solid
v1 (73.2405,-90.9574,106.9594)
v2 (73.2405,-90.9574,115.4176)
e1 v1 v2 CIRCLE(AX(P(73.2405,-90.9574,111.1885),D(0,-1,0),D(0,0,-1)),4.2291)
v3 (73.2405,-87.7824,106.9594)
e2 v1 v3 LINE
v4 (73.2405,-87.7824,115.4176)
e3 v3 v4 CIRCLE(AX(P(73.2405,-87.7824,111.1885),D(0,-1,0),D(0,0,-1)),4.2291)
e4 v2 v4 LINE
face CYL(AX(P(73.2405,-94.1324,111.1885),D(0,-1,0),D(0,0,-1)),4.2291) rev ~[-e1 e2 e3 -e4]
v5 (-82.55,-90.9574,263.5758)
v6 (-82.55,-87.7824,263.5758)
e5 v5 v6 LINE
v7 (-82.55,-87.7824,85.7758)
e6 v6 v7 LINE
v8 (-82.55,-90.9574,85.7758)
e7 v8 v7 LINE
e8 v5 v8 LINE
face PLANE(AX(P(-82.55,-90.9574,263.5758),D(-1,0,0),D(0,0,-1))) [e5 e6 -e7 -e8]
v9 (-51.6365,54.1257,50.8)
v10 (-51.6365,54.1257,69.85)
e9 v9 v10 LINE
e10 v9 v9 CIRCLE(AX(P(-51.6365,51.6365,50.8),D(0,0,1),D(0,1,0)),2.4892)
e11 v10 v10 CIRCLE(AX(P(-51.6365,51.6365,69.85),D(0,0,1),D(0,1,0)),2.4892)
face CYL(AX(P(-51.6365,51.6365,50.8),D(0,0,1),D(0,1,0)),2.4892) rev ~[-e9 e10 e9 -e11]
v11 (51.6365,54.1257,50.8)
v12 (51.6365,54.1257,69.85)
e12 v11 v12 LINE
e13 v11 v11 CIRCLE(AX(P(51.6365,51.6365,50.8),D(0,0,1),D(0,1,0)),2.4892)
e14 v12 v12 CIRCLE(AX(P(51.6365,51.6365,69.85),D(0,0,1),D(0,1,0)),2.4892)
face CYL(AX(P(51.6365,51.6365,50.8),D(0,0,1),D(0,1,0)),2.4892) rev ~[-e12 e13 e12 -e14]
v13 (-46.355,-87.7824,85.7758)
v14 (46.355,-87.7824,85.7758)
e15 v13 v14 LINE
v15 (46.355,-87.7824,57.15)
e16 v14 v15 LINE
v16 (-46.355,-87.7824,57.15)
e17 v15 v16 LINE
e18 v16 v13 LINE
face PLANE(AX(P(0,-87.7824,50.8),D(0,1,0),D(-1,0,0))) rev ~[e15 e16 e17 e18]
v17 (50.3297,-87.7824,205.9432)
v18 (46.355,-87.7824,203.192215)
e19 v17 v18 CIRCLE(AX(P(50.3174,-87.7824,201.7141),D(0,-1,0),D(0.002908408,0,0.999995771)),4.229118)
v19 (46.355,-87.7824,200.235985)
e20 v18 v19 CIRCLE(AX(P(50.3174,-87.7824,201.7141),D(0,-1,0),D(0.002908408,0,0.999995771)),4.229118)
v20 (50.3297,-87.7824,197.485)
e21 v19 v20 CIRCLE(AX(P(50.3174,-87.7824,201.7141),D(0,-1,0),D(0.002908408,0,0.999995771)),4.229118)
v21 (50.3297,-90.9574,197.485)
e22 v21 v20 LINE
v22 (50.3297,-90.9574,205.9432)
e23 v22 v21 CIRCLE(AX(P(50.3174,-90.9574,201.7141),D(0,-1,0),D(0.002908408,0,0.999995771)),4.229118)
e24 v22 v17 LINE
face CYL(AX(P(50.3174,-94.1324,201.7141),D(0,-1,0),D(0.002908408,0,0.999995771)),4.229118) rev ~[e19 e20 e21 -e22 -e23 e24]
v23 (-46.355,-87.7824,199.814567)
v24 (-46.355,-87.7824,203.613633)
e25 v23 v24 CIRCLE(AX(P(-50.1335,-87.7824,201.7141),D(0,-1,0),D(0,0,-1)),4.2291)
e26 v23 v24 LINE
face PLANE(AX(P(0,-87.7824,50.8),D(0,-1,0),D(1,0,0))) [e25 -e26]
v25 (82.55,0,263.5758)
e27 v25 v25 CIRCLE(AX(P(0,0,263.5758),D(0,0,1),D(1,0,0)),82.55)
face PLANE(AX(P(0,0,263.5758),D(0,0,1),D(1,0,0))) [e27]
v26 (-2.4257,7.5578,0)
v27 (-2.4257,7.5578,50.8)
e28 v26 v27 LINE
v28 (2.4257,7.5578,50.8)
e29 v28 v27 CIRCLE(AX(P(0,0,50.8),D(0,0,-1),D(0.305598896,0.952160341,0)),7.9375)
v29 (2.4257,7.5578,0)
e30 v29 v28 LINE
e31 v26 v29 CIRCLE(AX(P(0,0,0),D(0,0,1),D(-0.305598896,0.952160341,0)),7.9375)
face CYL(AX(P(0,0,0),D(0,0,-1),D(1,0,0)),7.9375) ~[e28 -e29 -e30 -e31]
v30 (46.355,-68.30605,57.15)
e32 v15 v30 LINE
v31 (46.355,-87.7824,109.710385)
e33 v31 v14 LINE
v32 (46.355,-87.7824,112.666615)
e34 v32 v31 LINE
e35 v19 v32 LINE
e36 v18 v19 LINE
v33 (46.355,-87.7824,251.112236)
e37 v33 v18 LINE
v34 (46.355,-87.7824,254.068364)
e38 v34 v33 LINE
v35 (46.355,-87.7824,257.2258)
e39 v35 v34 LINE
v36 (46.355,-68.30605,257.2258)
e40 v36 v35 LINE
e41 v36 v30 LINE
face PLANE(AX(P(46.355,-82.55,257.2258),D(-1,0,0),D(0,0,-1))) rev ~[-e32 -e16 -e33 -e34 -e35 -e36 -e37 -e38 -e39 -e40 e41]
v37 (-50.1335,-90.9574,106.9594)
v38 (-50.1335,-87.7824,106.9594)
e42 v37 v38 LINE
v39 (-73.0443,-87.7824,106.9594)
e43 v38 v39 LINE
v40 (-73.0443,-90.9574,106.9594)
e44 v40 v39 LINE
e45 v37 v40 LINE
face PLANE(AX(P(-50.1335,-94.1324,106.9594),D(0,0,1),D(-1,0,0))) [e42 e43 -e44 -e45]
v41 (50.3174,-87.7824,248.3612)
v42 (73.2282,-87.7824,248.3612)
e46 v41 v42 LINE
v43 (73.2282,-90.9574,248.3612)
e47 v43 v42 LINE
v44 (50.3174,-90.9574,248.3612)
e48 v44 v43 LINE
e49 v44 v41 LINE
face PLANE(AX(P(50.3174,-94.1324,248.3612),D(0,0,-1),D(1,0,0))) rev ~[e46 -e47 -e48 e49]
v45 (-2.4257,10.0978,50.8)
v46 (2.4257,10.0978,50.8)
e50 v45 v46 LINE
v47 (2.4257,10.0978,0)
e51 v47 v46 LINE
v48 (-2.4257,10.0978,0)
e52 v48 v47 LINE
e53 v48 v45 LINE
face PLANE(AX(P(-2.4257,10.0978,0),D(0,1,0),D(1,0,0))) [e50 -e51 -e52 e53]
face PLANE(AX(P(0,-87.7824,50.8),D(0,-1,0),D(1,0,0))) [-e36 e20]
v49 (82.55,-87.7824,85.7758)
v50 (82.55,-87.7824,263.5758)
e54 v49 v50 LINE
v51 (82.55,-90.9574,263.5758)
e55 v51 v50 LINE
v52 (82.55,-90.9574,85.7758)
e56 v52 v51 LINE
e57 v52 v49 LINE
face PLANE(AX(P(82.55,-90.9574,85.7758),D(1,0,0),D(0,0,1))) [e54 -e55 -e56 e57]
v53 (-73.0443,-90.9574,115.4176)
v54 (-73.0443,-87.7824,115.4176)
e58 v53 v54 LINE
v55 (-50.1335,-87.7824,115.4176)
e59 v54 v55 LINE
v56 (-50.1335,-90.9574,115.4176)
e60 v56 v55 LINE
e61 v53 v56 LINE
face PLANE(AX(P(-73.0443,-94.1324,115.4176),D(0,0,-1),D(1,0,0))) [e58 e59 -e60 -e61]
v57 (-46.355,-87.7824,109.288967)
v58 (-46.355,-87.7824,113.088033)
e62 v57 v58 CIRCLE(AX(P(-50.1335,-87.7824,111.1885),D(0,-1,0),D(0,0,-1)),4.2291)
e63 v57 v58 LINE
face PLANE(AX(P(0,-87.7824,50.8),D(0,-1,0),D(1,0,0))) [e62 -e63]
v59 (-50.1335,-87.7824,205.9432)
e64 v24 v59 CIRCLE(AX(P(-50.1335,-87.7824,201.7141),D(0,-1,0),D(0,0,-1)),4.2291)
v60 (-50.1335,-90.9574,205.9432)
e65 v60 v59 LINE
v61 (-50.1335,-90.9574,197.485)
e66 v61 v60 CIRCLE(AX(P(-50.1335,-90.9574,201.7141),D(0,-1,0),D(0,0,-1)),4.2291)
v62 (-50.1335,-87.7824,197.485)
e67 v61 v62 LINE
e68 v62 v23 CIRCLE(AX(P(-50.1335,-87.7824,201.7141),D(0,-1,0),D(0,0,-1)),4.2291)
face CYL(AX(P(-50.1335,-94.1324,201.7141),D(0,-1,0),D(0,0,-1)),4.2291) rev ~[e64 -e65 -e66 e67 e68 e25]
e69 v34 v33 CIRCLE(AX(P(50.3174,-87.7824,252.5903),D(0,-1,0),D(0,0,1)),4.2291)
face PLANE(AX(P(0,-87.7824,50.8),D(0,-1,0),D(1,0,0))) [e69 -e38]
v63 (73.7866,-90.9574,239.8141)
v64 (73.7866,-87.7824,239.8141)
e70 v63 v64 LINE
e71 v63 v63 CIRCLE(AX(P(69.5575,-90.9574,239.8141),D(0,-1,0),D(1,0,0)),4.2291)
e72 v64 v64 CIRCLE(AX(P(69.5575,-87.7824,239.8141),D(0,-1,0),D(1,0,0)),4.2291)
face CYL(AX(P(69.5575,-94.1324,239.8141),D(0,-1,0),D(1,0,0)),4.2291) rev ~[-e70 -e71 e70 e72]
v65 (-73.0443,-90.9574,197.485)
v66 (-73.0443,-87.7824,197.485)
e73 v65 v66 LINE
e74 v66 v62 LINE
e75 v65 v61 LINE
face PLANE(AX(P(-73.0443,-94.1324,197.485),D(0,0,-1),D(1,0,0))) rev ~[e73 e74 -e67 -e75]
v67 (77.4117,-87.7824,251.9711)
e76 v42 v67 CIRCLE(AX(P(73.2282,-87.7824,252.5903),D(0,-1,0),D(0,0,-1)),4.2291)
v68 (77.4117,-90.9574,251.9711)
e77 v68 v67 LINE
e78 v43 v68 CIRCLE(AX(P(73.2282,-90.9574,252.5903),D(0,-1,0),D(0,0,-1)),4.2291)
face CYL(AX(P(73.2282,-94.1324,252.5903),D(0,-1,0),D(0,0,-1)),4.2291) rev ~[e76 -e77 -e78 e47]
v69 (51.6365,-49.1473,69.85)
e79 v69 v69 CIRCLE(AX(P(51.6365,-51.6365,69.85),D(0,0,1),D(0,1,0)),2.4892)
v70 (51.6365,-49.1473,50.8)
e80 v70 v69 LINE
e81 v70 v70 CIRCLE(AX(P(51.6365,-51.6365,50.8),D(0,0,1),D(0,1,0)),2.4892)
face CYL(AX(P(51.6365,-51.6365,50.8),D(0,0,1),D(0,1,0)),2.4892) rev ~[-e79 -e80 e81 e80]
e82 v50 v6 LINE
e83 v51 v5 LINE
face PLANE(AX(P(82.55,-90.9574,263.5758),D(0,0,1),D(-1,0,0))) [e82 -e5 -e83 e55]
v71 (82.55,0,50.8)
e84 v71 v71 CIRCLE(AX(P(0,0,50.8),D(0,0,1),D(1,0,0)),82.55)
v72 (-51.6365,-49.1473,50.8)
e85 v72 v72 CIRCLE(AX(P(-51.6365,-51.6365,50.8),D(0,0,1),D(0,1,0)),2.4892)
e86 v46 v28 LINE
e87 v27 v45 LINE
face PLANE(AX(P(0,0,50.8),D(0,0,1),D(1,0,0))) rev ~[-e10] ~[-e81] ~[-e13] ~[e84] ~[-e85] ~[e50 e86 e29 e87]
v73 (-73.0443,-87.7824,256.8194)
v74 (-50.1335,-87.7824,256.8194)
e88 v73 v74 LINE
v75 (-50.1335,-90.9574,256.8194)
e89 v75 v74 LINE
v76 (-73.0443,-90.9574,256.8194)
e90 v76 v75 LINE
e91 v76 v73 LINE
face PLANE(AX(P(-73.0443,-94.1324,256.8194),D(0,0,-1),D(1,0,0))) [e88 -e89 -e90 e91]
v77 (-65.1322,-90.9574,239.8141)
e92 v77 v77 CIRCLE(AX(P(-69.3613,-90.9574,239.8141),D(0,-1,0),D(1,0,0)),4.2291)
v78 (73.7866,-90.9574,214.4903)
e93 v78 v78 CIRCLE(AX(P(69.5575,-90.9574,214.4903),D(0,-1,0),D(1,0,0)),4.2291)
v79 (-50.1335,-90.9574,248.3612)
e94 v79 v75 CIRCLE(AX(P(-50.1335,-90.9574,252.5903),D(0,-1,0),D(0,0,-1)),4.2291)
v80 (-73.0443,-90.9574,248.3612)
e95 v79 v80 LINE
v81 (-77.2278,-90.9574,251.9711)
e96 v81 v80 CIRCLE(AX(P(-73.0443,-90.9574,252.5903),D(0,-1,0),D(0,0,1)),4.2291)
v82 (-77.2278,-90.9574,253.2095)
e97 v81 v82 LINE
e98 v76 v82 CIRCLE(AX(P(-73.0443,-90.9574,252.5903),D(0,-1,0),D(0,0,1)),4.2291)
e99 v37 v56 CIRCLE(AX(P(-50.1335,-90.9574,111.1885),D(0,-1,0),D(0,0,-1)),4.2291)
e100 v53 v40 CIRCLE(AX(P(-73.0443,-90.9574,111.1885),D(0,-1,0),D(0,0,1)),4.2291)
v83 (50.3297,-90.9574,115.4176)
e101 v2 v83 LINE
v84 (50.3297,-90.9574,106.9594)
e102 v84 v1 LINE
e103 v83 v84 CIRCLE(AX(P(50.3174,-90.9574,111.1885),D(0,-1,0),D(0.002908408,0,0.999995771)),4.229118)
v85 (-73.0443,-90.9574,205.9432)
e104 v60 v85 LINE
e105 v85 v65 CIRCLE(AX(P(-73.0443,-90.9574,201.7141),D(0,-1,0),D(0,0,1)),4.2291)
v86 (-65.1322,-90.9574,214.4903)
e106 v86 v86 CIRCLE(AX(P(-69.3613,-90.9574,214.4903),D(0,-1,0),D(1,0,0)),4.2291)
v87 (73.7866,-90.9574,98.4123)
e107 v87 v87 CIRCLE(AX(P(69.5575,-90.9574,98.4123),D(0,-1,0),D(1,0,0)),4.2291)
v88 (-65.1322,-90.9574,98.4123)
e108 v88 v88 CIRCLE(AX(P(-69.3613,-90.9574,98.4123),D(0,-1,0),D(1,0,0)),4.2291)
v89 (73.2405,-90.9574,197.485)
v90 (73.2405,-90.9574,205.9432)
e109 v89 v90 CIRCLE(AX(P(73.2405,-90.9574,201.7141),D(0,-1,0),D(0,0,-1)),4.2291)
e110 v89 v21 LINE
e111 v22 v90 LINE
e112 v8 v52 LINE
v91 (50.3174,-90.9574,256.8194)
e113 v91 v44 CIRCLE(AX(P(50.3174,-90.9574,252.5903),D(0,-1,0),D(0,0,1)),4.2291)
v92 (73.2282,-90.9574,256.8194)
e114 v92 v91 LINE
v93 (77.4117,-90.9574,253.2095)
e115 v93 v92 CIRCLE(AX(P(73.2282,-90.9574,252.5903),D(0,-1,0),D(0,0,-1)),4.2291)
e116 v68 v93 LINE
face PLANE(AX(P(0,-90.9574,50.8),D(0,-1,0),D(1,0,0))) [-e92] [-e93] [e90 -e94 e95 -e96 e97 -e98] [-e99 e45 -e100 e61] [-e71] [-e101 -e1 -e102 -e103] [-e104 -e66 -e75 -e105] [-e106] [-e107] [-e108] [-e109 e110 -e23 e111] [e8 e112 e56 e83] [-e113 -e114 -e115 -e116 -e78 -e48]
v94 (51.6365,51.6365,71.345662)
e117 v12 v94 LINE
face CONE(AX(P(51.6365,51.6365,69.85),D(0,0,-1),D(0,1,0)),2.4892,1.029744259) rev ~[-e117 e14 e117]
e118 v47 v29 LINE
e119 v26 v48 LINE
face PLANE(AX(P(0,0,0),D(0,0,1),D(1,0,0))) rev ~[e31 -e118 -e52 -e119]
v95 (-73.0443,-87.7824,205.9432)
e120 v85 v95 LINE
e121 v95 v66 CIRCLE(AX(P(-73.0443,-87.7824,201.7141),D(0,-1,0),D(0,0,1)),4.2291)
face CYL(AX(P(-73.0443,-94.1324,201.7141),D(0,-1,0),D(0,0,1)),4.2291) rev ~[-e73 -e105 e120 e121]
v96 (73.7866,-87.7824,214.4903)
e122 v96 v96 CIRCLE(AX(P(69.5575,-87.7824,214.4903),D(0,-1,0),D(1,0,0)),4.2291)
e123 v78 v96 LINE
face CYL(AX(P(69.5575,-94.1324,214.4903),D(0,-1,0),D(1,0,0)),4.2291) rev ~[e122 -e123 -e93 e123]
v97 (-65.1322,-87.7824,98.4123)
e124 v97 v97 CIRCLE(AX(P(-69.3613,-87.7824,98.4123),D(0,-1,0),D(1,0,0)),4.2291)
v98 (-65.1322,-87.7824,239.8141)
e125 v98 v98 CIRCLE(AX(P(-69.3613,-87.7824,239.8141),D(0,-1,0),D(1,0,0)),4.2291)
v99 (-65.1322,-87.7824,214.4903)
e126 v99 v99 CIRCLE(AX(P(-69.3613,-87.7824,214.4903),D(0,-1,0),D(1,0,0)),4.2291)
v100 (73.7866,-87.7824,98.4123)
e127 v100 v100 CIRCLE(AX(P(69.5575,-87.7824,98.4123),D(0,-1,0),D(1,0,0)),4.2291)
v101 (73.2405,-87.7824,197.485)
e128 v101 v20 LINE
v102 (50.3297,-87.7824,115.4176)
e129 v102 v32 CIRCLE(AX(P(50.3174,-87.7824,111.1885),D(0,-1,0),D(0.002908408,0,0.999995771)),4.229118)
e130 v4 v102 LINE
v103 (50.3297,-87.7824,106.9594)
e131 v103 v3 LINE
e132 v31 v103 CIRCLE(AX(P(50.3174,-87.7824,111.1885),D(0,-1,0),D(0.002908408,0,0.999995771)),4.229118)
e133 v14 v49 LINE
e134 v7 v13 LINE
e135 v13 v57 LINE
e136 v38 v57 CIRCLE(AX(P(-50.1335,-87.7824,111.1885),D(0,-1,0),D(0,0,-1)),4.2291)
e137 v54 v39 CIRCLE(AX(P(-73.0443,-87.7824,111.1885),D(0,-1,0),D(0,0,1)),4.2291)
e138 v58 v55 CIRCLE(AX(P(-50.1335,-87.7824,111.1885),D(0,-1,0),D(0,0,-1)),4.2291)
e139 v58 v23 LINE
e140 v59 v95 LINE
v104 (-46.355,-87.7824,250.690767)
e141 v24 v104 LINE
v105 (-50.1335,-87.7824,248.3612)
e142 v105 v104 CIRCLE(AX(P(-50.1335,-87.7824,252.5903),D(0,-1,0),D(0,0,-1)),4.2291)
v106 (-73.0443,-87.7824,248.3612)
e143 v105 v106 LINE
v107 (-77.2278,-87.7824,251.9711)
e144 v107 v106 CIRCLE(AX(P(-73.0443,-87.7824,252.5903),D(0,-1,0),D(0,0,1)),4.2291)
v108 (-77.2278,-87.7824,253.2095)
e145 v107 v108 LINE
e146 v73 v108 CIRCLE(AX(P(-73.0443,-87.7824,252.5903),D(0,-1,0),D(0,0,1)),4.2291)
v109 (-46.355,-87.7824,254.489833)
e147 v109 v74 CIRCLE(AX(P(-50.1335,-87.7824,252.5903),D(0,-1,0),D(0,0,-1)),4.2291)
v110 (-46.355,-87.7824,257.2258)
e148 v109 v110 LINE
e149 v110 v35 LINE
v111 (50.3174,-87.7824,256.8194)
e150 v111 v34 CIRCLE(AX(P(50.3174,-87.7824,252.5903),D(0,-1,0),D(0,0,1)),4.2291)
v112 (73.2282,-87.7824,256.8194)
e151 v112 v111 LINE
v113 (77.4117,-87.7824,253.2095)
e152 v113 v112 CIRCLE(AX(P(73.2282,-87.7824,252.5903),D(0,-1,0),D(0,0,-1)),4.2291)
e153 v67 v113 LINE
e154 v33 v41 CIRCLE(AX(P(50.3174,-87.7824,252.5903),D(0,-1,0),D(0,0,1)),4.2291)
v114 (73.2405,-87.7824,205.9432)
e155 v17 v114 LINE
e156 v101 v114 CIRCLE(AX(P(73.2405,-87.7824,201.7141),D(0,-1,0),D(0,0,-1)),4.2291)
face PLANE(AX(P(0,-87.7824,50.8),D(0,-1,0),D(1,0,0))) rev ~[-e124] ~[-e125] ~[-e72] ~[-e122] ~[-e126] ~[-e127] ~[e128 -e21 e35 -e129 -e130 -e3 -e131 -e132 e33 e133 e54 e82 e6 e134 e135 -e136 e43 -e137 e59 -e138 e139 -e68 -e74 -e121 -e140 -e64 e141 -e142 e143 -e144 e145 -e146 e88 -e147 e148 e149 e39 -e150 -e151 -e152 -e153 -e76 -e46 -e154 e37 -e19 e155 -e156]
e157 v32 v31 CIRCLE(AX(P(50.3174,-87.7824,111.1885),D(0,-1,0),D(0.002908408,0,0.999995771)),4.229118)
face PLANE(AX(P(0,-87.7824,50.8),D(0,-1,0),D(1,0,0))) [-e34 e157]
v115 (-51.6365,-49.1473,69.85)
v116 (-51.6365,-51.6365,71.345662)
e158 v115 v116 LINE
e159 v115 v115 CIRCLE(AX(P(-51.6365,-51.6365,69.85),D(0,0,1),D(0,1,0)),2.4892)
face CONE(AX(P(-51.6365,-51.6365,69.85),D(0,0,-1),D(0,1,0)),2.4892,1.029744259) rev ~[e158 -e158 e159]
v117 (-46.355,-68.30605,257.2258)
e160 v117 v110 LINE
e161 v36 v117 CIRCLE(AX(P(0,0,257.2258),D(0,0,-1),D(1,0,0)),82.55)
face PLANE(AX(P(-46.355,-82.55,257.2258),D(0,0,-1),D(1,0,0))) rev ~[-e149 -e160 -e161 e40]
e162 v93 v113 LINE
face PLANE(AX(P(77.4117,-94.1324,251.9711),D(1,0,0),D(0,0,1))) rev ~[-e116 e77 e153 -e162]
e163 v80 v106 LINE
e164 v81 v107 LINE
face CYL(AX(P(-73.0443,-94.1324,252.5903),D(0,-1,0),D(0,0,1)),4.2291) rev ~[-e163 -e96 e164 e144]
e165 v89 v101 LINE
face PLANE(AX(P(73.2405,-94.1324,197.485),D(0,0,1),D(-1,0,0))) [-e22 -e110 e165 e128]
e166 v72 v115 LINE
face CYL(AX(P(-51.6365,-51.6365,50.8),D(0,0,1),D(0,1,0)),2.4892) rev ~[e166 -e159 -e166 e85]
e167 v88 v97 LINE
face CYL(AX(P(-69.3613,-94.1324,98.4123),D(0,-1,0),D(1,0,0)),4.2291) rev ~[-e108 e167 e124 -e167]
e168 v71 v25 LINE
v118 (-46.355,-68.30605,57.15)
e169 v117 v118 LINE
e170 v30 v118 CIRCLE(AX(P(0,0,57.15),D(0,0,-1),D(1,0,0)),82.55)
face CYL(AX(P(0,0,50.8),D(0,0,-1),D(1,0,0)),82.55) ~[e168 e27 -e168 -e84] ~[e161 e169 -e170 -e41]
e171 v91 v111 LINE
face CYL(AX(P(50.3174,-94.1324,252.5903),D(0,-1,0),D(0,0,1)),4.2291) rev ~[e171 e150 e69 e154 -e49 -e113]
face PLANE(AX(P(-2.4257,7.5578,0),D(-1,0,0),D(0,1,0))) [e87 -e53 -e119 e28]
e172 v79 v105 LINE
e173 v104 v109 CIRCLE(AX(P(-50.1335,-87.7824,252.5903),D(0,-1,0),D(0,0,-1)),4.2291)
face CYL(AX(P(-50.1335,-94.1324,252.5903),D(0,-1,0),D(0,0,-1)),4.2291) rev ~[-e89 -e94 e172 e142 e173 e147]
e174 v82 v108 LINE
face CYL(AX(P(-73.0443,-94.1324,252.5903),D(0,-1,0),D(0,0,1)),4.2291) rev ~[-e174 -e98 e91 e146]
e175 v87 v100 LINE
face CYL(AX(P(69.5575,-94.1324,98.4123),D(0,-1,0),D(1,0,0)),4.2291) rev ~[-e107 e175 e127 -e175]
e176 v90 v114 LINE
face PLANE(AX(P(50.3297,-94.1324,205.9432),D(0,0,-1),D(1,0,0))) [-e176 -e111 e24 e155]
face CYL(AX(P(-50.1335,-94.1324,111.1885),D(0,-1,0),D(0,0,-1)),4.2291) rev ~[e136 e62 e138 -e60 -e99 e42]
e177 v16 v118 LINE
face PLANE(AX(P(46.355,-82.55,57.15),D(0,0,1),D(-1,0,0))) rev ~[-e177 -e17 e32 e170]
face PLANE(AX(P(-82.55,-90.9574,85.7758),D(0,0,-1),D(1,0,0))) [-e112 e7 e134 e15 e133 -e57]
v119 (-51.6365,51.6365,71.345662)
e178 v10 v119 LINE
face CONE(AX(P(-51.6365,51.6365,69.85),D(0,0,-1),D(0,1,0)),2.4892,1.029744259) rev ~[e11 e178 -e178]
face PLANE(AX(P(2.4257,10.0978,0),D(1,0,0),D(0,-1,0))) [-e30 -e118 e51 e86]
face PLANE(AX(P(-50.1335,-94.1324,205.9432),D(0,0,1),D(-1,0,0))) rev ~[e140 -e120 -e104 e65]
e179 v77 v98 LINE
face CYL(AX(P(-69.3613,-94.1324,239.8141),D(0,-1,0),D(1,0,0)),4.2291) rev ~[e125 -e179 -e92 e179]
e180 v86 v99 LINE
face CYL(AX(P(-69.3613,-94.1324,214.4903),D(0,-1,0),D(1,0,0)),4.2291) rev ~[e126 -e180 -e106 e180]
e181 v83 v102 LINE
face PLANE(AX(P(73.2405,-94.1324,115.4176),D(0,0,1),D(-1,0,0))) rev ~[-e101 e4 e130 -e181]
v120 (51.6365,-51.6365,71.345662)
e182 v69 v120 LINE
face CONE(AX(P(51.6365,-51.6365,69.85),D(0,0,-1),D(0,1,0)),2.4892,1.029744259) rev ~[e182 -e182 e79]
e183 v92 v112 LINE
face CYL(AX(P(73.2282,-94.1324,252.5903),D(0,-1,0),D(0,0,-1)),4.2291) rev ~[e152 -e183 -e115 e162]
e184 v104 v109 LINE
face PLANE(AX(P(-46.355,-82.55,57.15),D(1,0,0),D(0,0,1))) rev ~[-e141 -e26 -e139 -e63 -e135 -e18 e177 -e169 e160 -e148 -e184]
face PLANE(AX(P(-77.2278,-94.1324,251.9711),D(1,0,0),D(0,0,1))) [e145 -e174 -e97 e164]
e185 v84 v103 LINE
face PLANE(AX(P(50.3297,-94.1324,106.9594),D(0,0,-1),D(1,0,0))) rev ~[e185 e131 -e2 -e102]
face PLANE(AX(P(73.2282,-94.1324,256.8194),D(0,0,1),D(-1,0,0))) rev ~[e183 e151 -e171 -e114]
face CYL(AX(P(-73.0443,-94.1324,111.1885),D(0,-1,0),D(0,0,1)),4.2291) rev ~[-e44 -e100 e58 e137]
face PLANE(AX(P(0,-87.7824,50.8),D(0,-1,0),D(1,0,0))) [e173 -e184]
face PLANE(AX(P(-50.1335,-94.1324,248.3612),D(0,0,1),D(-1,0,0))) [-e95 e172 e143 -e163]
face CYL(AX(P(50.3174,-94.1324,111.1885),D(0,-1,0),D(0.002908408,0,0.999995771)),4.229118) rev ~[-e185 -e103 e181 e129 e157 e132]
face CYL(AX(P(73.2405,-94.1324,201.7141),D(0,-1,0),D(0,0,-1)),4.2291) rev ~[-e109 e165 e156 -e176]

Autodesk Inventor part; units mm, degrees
ref_plane "YZ Plane" through (0, 0, 0) normal (1, 0, 0) x (0, 1, 0)
ref_plane "XZ Plane" through (0, 0, 0) normal (0, 1, 0) x (-1, 0, 0)
ref_plane "XY Plane" through (0, 0, 0) normal (0, 0, 1) x (1, 0, 0)
sketch "Sketch1" plane through (0, 0, 0) normal (0, 0, 1) x (1, 0, 0)
  circle A0 centre (0, 0) radius 7.9375
  line L0 (-2.4257, 7.5578) -> (-2.4257, 10.0978)
  line L1 (-2.4257, 10.0978) -> (2.4257, 10.0978)
  line L2 (2.4257, 10.0978) -> (2.4257, 7.5578)
  point P0 (0, 10.0978)
  dimension "d0" = 15.875
  dimension "d1" = 2.54
  dimension "d2" = 4.8514
extrude "Extrusion1" add sketch "Sketch1" along normal blind 50.8
sketch "Sketch2" plane through (0, 0, 50.8) normal (0, 0, 1) x (1, 0, 0)
  circle A0 centre (0, 0) radius 82.55
  dimension "d5" = 165.1
extrude "Extrusion2" add sketch "Sketch2" along normal blind 212.7758
sketch "Sketch3" plane through (0, 0, 50.8) normal (0, 0, -1) x (-1, 0, 0)
  circle A0 centre (0, 0) radius 73.025
  arc A1 (-2.4257, 7.5578) -> (2.4257, 7.5578) centre (0, 0) ccw projected
  line L0 (0, 0) -> (51.6365, 51.6365)
  line L1 (0, 0) -> (73.025, 0) construction
  line L2 (0, 0) -> (51.6365, -51.6365)
  line L3 (0, 0) -> (73.025, 0) construction
  line L4 (0, 0) -> (-51.6365, 51.6365)
  line L5 (0, 0) -> (73.025, 0) construction
  line L6 (0, 0) -> (-51.6365, -51.6365)
  line L7 (0, 0) -> (73.025, 0) construction
  dimension "d8" = 146.05
  dimension "d9" = 45
  dimension "d10" = 45
  dimension "d11" = 135
  dimension "d12" = 135
hole "Hole1" at (51.6365, 51.6365, 50.8) at (-51.6365, 51.6365, 50.8) at (-51.6365, -51.6365, 50.8) at (51.6365, -51.6365, 50.8) direction (0, 0, 1) diameter 4.9784 depth 19.05 tip angle 118 thread size "1/4-20 UNC" class "2B" standard "ANSI Unified Screw Threads"
ref_plane "Work Plane2" through (0, -82.55, 50.8) normal (0, 1, 0) x (-1, 0, 0)
sketch "Sketch4" plane through (0, -82.55, 50.8) normal (0, 1, 0) x (-1, 0, 0)
  line L0 (82.55, 212.7758) -> (-82.55, 212.7758) projected
  line L1 (-82.55, 0) -> (82.55, 0) projected
  line L2 (82.55, 0) -> (82.55, 177.8) projected
  line L3 (-82.55, 0) -> (-82.55, 177.8) projected
  line L4 (-46.355, 6.35) -> (46.355, 6.35)
  line L5 (46.355, 6.35) -> (46.355, 206.4258)
  line L6 (46.355, 206.4258) -> (-46.355, 206.4258)
  line L7 (-46.355, 206.4258) -> (-46.355, 6.35)
  point P0 (0, -50.8)
  point P1 (0, 6.35)
  dimension "d20" = 200.0758
  dimension "d21" = 6.35
  dimension "d22" = 92.71
extrude "Extrusion3" add sketch "Sketch4" along normal blind 25.4 and the other way blind 5.2324
ref_plane "Work Plane7" through (0, -90.9574, 50.8) normal (0, -1, 0) x (1, 0, 0)
sketch "Sketch5" plane through (0, -90.9574, 50.8) normal (0, -1, 0) x (1, 0, 0)
  line L0 (82.55, 212.7758) -> (-82.55, 212.7758) projected
  line L1 (82.55, 212.7758) -> (-82.55, 212.7758)
  line L2 (-82.55, 212.7758) -> (-82.55, 34.9758)
  line L3 (-82.55, 34.9758) -> (82.55, 34.9758)
  line L4 (82.55, 34.9758) -> (82.55, 212.7758)
  point P0 (0, -50.8)
  dimension "d54" = 177.8
  dimension "d55" = 165.1
extrude "Extrusion4" add sketch "Sketch5" against normal blind 3.175
ref_plane "Work Plane9" through (0, -94.1324, 50.8) normal (0, -1, 0) x (1, 0, 0)
sketch "Sketch6" plane through (0, -94.1324, 50.8) normal (0, -1, 0) x (1, 0, 0)
  circle A0 centre (69.5575, 189.0141) radius 4.2291
  line L0 (73.2282, 206.0194) -> (50.3174, 206.0194)
  line L1 (50.3174, 197.5612) -> (73.2282, 197.5612)
  line L2 (77.4117, 201.1711) -> (77.4117, 202.4095)
  arc A1 (73.2282, 197.5612) -> (73.2282, 206.0194) centre (73.2282, 201.7903) ccw
  arc A2 (50.3174, 206.0194) -> (50.3174, 197.5612) centre (50.3174, 201.7903) ccw
  circle A3 centre (69.5575, 163.6903) radius 4.2291
  line L3 (73.2405, 146.685) -> (50.3297, 146.685)
  line L4 (50.3297, 155.1432) -> (73.2405, 155.1432)
  arc A4 (73.2405, 146.685) -> (73.2405, 155.1432) centre (73.2405, 150.9141) ccw
  arc A5 (50.3297, 155.1432) -> (50.3297, 146.685) centre (50.3174, 150.9141) ccw
  arc A6 (73.2405, 56.1594) -> (73.2405, 64.6176) centre (73.2405, 60.3885) ccw
  line L5 (50.3297, 56.1594) -> (73.2405, 56.1594)
  line L6 (73.2405, 64.6176) -> (50.3297, 64.6176)
  arc A7 (50.3297, 64.6176) -> (50.3297, 56.1594) centre (50.3174, 60.3885) ccw
  circle A8 centre (69.5575, 47.6123) radius 4.2291
  circle A9 centre (-69.3613, 189.0141) radius 4.2291
  line L7 (-73.0443, 206.0194) -> (-50.1335, 206.0194)
  line L8 (-50.1335, 197.5612) -> (-73.0443, 197.5612)
  line L9 (-77.2278, 201.1711) -> (-77.2278, 202.4095)
  arc A10 (-73.0443, 206.0194) -> (-73.0443, 197.5612) centre (-73.0443, 201.7903) ccw
  arc A11 (-50.1335, 197.5612) -> (-50.1335, 206.0194) centre (-50.1335, 201.7903) ccw
  arc A12 (-73.0443, 155.1432) -> (-73.0443, 146.685) centre (-73.0443, 150.9141) ccw
  line L10 (-50.1335, 155.1432) -> (-73.0443, 155.1432)
  line L11 (-73.0443, 146.685) -> (-50.1335, 146.685)
  arc A13 (-50.1335, 146.685) -> (-50.1335, 155.1432) centre (-50.1335, 150.9141) ccw
  circle A14 centre (-69.3613, 163.6903) radius 4.2291
  circle A15 centre (-69.3613, 47.6123) radius 4.2291
  line L12 (-50.1335, 56.1594) -> (-73.0443, 56.1594)
  line L13 (-73.0443, 64.6176) -> (-50.1335, 64.6176)
  arc A16 (-73.0443, 64.6176) -> (-73.0443, 56.1594) centre (-73.0443, 60.3885) ccw
  arc A17 (-50.1335, 56.1594) -> (-50.1335, 64.6176) centre (-50.1335, 60.3885) ccw
  line L14 (-82.55, 212.7758) -> (-82.55, 34.9758) projected
  line L15 (82.55, 212.7758) -> (-82.55, 212.7758) projected
  line L16 (82.55, 34.9758) -> (82.55, 212.7758) projected
  line L17 (82.55, 212.7758) -> (82.55, 34.9758) projected
  point P0 (0, -50.8)
  point P1 (-61.5889, 206.0194)
  point P2 (61.7728, 206.0194)
  point P3 (-61.5889, 197.5612)
  point P4 (61.7728, 197.5612)
  point P5 (-61.5889, 155.1432)
  point P6 (61.7851, 155.1432)
  dimension "d31" = 8.4582
  dimension "d38" = 8.4582
  dimension "d39" = 8.4582
  dimension "d40" = 22.9108
  dimension "d41" = 8.4582
  dimension "d51" = 8.5471
  dimension "d56" = 50.8762
  dimension "d57" = 12.7762
  dimension "d58" = 6.7564
  dimension "d59" = 12.7762
  dimension "d60" = 90.5256
  dimension "d62" = 9.3218
extrude "Extrusion5" cut sketch "Sketch6" against normal blind 6.35 contours A0 | A1 L2 L1 A2 L0 | A3 | L3 A5 L4 A4 | L5 A7 L6 A6 | A8 | A9 | L7 A11 L8 A10 L9 | L10 A13 L11 A12 | A14 | A15 | L12 A16 L13 A17
sketch "Sketch7" plane through (0, -87.7824, 50.8) normal (0, -1, 0) x (1, 0, 0)
  point P0 (0, -50.8)
equation "\"d3\" = ShaftL"
equation "\"d5\" = MotoD"
equation "\"d6\" = MotoL"
equation "\"ShaftL\" = 50.8"
equation "\"MotoD\" = 165.1"
equation "\"MotoL\" = 212.7758"
properties part number "Motor4"
